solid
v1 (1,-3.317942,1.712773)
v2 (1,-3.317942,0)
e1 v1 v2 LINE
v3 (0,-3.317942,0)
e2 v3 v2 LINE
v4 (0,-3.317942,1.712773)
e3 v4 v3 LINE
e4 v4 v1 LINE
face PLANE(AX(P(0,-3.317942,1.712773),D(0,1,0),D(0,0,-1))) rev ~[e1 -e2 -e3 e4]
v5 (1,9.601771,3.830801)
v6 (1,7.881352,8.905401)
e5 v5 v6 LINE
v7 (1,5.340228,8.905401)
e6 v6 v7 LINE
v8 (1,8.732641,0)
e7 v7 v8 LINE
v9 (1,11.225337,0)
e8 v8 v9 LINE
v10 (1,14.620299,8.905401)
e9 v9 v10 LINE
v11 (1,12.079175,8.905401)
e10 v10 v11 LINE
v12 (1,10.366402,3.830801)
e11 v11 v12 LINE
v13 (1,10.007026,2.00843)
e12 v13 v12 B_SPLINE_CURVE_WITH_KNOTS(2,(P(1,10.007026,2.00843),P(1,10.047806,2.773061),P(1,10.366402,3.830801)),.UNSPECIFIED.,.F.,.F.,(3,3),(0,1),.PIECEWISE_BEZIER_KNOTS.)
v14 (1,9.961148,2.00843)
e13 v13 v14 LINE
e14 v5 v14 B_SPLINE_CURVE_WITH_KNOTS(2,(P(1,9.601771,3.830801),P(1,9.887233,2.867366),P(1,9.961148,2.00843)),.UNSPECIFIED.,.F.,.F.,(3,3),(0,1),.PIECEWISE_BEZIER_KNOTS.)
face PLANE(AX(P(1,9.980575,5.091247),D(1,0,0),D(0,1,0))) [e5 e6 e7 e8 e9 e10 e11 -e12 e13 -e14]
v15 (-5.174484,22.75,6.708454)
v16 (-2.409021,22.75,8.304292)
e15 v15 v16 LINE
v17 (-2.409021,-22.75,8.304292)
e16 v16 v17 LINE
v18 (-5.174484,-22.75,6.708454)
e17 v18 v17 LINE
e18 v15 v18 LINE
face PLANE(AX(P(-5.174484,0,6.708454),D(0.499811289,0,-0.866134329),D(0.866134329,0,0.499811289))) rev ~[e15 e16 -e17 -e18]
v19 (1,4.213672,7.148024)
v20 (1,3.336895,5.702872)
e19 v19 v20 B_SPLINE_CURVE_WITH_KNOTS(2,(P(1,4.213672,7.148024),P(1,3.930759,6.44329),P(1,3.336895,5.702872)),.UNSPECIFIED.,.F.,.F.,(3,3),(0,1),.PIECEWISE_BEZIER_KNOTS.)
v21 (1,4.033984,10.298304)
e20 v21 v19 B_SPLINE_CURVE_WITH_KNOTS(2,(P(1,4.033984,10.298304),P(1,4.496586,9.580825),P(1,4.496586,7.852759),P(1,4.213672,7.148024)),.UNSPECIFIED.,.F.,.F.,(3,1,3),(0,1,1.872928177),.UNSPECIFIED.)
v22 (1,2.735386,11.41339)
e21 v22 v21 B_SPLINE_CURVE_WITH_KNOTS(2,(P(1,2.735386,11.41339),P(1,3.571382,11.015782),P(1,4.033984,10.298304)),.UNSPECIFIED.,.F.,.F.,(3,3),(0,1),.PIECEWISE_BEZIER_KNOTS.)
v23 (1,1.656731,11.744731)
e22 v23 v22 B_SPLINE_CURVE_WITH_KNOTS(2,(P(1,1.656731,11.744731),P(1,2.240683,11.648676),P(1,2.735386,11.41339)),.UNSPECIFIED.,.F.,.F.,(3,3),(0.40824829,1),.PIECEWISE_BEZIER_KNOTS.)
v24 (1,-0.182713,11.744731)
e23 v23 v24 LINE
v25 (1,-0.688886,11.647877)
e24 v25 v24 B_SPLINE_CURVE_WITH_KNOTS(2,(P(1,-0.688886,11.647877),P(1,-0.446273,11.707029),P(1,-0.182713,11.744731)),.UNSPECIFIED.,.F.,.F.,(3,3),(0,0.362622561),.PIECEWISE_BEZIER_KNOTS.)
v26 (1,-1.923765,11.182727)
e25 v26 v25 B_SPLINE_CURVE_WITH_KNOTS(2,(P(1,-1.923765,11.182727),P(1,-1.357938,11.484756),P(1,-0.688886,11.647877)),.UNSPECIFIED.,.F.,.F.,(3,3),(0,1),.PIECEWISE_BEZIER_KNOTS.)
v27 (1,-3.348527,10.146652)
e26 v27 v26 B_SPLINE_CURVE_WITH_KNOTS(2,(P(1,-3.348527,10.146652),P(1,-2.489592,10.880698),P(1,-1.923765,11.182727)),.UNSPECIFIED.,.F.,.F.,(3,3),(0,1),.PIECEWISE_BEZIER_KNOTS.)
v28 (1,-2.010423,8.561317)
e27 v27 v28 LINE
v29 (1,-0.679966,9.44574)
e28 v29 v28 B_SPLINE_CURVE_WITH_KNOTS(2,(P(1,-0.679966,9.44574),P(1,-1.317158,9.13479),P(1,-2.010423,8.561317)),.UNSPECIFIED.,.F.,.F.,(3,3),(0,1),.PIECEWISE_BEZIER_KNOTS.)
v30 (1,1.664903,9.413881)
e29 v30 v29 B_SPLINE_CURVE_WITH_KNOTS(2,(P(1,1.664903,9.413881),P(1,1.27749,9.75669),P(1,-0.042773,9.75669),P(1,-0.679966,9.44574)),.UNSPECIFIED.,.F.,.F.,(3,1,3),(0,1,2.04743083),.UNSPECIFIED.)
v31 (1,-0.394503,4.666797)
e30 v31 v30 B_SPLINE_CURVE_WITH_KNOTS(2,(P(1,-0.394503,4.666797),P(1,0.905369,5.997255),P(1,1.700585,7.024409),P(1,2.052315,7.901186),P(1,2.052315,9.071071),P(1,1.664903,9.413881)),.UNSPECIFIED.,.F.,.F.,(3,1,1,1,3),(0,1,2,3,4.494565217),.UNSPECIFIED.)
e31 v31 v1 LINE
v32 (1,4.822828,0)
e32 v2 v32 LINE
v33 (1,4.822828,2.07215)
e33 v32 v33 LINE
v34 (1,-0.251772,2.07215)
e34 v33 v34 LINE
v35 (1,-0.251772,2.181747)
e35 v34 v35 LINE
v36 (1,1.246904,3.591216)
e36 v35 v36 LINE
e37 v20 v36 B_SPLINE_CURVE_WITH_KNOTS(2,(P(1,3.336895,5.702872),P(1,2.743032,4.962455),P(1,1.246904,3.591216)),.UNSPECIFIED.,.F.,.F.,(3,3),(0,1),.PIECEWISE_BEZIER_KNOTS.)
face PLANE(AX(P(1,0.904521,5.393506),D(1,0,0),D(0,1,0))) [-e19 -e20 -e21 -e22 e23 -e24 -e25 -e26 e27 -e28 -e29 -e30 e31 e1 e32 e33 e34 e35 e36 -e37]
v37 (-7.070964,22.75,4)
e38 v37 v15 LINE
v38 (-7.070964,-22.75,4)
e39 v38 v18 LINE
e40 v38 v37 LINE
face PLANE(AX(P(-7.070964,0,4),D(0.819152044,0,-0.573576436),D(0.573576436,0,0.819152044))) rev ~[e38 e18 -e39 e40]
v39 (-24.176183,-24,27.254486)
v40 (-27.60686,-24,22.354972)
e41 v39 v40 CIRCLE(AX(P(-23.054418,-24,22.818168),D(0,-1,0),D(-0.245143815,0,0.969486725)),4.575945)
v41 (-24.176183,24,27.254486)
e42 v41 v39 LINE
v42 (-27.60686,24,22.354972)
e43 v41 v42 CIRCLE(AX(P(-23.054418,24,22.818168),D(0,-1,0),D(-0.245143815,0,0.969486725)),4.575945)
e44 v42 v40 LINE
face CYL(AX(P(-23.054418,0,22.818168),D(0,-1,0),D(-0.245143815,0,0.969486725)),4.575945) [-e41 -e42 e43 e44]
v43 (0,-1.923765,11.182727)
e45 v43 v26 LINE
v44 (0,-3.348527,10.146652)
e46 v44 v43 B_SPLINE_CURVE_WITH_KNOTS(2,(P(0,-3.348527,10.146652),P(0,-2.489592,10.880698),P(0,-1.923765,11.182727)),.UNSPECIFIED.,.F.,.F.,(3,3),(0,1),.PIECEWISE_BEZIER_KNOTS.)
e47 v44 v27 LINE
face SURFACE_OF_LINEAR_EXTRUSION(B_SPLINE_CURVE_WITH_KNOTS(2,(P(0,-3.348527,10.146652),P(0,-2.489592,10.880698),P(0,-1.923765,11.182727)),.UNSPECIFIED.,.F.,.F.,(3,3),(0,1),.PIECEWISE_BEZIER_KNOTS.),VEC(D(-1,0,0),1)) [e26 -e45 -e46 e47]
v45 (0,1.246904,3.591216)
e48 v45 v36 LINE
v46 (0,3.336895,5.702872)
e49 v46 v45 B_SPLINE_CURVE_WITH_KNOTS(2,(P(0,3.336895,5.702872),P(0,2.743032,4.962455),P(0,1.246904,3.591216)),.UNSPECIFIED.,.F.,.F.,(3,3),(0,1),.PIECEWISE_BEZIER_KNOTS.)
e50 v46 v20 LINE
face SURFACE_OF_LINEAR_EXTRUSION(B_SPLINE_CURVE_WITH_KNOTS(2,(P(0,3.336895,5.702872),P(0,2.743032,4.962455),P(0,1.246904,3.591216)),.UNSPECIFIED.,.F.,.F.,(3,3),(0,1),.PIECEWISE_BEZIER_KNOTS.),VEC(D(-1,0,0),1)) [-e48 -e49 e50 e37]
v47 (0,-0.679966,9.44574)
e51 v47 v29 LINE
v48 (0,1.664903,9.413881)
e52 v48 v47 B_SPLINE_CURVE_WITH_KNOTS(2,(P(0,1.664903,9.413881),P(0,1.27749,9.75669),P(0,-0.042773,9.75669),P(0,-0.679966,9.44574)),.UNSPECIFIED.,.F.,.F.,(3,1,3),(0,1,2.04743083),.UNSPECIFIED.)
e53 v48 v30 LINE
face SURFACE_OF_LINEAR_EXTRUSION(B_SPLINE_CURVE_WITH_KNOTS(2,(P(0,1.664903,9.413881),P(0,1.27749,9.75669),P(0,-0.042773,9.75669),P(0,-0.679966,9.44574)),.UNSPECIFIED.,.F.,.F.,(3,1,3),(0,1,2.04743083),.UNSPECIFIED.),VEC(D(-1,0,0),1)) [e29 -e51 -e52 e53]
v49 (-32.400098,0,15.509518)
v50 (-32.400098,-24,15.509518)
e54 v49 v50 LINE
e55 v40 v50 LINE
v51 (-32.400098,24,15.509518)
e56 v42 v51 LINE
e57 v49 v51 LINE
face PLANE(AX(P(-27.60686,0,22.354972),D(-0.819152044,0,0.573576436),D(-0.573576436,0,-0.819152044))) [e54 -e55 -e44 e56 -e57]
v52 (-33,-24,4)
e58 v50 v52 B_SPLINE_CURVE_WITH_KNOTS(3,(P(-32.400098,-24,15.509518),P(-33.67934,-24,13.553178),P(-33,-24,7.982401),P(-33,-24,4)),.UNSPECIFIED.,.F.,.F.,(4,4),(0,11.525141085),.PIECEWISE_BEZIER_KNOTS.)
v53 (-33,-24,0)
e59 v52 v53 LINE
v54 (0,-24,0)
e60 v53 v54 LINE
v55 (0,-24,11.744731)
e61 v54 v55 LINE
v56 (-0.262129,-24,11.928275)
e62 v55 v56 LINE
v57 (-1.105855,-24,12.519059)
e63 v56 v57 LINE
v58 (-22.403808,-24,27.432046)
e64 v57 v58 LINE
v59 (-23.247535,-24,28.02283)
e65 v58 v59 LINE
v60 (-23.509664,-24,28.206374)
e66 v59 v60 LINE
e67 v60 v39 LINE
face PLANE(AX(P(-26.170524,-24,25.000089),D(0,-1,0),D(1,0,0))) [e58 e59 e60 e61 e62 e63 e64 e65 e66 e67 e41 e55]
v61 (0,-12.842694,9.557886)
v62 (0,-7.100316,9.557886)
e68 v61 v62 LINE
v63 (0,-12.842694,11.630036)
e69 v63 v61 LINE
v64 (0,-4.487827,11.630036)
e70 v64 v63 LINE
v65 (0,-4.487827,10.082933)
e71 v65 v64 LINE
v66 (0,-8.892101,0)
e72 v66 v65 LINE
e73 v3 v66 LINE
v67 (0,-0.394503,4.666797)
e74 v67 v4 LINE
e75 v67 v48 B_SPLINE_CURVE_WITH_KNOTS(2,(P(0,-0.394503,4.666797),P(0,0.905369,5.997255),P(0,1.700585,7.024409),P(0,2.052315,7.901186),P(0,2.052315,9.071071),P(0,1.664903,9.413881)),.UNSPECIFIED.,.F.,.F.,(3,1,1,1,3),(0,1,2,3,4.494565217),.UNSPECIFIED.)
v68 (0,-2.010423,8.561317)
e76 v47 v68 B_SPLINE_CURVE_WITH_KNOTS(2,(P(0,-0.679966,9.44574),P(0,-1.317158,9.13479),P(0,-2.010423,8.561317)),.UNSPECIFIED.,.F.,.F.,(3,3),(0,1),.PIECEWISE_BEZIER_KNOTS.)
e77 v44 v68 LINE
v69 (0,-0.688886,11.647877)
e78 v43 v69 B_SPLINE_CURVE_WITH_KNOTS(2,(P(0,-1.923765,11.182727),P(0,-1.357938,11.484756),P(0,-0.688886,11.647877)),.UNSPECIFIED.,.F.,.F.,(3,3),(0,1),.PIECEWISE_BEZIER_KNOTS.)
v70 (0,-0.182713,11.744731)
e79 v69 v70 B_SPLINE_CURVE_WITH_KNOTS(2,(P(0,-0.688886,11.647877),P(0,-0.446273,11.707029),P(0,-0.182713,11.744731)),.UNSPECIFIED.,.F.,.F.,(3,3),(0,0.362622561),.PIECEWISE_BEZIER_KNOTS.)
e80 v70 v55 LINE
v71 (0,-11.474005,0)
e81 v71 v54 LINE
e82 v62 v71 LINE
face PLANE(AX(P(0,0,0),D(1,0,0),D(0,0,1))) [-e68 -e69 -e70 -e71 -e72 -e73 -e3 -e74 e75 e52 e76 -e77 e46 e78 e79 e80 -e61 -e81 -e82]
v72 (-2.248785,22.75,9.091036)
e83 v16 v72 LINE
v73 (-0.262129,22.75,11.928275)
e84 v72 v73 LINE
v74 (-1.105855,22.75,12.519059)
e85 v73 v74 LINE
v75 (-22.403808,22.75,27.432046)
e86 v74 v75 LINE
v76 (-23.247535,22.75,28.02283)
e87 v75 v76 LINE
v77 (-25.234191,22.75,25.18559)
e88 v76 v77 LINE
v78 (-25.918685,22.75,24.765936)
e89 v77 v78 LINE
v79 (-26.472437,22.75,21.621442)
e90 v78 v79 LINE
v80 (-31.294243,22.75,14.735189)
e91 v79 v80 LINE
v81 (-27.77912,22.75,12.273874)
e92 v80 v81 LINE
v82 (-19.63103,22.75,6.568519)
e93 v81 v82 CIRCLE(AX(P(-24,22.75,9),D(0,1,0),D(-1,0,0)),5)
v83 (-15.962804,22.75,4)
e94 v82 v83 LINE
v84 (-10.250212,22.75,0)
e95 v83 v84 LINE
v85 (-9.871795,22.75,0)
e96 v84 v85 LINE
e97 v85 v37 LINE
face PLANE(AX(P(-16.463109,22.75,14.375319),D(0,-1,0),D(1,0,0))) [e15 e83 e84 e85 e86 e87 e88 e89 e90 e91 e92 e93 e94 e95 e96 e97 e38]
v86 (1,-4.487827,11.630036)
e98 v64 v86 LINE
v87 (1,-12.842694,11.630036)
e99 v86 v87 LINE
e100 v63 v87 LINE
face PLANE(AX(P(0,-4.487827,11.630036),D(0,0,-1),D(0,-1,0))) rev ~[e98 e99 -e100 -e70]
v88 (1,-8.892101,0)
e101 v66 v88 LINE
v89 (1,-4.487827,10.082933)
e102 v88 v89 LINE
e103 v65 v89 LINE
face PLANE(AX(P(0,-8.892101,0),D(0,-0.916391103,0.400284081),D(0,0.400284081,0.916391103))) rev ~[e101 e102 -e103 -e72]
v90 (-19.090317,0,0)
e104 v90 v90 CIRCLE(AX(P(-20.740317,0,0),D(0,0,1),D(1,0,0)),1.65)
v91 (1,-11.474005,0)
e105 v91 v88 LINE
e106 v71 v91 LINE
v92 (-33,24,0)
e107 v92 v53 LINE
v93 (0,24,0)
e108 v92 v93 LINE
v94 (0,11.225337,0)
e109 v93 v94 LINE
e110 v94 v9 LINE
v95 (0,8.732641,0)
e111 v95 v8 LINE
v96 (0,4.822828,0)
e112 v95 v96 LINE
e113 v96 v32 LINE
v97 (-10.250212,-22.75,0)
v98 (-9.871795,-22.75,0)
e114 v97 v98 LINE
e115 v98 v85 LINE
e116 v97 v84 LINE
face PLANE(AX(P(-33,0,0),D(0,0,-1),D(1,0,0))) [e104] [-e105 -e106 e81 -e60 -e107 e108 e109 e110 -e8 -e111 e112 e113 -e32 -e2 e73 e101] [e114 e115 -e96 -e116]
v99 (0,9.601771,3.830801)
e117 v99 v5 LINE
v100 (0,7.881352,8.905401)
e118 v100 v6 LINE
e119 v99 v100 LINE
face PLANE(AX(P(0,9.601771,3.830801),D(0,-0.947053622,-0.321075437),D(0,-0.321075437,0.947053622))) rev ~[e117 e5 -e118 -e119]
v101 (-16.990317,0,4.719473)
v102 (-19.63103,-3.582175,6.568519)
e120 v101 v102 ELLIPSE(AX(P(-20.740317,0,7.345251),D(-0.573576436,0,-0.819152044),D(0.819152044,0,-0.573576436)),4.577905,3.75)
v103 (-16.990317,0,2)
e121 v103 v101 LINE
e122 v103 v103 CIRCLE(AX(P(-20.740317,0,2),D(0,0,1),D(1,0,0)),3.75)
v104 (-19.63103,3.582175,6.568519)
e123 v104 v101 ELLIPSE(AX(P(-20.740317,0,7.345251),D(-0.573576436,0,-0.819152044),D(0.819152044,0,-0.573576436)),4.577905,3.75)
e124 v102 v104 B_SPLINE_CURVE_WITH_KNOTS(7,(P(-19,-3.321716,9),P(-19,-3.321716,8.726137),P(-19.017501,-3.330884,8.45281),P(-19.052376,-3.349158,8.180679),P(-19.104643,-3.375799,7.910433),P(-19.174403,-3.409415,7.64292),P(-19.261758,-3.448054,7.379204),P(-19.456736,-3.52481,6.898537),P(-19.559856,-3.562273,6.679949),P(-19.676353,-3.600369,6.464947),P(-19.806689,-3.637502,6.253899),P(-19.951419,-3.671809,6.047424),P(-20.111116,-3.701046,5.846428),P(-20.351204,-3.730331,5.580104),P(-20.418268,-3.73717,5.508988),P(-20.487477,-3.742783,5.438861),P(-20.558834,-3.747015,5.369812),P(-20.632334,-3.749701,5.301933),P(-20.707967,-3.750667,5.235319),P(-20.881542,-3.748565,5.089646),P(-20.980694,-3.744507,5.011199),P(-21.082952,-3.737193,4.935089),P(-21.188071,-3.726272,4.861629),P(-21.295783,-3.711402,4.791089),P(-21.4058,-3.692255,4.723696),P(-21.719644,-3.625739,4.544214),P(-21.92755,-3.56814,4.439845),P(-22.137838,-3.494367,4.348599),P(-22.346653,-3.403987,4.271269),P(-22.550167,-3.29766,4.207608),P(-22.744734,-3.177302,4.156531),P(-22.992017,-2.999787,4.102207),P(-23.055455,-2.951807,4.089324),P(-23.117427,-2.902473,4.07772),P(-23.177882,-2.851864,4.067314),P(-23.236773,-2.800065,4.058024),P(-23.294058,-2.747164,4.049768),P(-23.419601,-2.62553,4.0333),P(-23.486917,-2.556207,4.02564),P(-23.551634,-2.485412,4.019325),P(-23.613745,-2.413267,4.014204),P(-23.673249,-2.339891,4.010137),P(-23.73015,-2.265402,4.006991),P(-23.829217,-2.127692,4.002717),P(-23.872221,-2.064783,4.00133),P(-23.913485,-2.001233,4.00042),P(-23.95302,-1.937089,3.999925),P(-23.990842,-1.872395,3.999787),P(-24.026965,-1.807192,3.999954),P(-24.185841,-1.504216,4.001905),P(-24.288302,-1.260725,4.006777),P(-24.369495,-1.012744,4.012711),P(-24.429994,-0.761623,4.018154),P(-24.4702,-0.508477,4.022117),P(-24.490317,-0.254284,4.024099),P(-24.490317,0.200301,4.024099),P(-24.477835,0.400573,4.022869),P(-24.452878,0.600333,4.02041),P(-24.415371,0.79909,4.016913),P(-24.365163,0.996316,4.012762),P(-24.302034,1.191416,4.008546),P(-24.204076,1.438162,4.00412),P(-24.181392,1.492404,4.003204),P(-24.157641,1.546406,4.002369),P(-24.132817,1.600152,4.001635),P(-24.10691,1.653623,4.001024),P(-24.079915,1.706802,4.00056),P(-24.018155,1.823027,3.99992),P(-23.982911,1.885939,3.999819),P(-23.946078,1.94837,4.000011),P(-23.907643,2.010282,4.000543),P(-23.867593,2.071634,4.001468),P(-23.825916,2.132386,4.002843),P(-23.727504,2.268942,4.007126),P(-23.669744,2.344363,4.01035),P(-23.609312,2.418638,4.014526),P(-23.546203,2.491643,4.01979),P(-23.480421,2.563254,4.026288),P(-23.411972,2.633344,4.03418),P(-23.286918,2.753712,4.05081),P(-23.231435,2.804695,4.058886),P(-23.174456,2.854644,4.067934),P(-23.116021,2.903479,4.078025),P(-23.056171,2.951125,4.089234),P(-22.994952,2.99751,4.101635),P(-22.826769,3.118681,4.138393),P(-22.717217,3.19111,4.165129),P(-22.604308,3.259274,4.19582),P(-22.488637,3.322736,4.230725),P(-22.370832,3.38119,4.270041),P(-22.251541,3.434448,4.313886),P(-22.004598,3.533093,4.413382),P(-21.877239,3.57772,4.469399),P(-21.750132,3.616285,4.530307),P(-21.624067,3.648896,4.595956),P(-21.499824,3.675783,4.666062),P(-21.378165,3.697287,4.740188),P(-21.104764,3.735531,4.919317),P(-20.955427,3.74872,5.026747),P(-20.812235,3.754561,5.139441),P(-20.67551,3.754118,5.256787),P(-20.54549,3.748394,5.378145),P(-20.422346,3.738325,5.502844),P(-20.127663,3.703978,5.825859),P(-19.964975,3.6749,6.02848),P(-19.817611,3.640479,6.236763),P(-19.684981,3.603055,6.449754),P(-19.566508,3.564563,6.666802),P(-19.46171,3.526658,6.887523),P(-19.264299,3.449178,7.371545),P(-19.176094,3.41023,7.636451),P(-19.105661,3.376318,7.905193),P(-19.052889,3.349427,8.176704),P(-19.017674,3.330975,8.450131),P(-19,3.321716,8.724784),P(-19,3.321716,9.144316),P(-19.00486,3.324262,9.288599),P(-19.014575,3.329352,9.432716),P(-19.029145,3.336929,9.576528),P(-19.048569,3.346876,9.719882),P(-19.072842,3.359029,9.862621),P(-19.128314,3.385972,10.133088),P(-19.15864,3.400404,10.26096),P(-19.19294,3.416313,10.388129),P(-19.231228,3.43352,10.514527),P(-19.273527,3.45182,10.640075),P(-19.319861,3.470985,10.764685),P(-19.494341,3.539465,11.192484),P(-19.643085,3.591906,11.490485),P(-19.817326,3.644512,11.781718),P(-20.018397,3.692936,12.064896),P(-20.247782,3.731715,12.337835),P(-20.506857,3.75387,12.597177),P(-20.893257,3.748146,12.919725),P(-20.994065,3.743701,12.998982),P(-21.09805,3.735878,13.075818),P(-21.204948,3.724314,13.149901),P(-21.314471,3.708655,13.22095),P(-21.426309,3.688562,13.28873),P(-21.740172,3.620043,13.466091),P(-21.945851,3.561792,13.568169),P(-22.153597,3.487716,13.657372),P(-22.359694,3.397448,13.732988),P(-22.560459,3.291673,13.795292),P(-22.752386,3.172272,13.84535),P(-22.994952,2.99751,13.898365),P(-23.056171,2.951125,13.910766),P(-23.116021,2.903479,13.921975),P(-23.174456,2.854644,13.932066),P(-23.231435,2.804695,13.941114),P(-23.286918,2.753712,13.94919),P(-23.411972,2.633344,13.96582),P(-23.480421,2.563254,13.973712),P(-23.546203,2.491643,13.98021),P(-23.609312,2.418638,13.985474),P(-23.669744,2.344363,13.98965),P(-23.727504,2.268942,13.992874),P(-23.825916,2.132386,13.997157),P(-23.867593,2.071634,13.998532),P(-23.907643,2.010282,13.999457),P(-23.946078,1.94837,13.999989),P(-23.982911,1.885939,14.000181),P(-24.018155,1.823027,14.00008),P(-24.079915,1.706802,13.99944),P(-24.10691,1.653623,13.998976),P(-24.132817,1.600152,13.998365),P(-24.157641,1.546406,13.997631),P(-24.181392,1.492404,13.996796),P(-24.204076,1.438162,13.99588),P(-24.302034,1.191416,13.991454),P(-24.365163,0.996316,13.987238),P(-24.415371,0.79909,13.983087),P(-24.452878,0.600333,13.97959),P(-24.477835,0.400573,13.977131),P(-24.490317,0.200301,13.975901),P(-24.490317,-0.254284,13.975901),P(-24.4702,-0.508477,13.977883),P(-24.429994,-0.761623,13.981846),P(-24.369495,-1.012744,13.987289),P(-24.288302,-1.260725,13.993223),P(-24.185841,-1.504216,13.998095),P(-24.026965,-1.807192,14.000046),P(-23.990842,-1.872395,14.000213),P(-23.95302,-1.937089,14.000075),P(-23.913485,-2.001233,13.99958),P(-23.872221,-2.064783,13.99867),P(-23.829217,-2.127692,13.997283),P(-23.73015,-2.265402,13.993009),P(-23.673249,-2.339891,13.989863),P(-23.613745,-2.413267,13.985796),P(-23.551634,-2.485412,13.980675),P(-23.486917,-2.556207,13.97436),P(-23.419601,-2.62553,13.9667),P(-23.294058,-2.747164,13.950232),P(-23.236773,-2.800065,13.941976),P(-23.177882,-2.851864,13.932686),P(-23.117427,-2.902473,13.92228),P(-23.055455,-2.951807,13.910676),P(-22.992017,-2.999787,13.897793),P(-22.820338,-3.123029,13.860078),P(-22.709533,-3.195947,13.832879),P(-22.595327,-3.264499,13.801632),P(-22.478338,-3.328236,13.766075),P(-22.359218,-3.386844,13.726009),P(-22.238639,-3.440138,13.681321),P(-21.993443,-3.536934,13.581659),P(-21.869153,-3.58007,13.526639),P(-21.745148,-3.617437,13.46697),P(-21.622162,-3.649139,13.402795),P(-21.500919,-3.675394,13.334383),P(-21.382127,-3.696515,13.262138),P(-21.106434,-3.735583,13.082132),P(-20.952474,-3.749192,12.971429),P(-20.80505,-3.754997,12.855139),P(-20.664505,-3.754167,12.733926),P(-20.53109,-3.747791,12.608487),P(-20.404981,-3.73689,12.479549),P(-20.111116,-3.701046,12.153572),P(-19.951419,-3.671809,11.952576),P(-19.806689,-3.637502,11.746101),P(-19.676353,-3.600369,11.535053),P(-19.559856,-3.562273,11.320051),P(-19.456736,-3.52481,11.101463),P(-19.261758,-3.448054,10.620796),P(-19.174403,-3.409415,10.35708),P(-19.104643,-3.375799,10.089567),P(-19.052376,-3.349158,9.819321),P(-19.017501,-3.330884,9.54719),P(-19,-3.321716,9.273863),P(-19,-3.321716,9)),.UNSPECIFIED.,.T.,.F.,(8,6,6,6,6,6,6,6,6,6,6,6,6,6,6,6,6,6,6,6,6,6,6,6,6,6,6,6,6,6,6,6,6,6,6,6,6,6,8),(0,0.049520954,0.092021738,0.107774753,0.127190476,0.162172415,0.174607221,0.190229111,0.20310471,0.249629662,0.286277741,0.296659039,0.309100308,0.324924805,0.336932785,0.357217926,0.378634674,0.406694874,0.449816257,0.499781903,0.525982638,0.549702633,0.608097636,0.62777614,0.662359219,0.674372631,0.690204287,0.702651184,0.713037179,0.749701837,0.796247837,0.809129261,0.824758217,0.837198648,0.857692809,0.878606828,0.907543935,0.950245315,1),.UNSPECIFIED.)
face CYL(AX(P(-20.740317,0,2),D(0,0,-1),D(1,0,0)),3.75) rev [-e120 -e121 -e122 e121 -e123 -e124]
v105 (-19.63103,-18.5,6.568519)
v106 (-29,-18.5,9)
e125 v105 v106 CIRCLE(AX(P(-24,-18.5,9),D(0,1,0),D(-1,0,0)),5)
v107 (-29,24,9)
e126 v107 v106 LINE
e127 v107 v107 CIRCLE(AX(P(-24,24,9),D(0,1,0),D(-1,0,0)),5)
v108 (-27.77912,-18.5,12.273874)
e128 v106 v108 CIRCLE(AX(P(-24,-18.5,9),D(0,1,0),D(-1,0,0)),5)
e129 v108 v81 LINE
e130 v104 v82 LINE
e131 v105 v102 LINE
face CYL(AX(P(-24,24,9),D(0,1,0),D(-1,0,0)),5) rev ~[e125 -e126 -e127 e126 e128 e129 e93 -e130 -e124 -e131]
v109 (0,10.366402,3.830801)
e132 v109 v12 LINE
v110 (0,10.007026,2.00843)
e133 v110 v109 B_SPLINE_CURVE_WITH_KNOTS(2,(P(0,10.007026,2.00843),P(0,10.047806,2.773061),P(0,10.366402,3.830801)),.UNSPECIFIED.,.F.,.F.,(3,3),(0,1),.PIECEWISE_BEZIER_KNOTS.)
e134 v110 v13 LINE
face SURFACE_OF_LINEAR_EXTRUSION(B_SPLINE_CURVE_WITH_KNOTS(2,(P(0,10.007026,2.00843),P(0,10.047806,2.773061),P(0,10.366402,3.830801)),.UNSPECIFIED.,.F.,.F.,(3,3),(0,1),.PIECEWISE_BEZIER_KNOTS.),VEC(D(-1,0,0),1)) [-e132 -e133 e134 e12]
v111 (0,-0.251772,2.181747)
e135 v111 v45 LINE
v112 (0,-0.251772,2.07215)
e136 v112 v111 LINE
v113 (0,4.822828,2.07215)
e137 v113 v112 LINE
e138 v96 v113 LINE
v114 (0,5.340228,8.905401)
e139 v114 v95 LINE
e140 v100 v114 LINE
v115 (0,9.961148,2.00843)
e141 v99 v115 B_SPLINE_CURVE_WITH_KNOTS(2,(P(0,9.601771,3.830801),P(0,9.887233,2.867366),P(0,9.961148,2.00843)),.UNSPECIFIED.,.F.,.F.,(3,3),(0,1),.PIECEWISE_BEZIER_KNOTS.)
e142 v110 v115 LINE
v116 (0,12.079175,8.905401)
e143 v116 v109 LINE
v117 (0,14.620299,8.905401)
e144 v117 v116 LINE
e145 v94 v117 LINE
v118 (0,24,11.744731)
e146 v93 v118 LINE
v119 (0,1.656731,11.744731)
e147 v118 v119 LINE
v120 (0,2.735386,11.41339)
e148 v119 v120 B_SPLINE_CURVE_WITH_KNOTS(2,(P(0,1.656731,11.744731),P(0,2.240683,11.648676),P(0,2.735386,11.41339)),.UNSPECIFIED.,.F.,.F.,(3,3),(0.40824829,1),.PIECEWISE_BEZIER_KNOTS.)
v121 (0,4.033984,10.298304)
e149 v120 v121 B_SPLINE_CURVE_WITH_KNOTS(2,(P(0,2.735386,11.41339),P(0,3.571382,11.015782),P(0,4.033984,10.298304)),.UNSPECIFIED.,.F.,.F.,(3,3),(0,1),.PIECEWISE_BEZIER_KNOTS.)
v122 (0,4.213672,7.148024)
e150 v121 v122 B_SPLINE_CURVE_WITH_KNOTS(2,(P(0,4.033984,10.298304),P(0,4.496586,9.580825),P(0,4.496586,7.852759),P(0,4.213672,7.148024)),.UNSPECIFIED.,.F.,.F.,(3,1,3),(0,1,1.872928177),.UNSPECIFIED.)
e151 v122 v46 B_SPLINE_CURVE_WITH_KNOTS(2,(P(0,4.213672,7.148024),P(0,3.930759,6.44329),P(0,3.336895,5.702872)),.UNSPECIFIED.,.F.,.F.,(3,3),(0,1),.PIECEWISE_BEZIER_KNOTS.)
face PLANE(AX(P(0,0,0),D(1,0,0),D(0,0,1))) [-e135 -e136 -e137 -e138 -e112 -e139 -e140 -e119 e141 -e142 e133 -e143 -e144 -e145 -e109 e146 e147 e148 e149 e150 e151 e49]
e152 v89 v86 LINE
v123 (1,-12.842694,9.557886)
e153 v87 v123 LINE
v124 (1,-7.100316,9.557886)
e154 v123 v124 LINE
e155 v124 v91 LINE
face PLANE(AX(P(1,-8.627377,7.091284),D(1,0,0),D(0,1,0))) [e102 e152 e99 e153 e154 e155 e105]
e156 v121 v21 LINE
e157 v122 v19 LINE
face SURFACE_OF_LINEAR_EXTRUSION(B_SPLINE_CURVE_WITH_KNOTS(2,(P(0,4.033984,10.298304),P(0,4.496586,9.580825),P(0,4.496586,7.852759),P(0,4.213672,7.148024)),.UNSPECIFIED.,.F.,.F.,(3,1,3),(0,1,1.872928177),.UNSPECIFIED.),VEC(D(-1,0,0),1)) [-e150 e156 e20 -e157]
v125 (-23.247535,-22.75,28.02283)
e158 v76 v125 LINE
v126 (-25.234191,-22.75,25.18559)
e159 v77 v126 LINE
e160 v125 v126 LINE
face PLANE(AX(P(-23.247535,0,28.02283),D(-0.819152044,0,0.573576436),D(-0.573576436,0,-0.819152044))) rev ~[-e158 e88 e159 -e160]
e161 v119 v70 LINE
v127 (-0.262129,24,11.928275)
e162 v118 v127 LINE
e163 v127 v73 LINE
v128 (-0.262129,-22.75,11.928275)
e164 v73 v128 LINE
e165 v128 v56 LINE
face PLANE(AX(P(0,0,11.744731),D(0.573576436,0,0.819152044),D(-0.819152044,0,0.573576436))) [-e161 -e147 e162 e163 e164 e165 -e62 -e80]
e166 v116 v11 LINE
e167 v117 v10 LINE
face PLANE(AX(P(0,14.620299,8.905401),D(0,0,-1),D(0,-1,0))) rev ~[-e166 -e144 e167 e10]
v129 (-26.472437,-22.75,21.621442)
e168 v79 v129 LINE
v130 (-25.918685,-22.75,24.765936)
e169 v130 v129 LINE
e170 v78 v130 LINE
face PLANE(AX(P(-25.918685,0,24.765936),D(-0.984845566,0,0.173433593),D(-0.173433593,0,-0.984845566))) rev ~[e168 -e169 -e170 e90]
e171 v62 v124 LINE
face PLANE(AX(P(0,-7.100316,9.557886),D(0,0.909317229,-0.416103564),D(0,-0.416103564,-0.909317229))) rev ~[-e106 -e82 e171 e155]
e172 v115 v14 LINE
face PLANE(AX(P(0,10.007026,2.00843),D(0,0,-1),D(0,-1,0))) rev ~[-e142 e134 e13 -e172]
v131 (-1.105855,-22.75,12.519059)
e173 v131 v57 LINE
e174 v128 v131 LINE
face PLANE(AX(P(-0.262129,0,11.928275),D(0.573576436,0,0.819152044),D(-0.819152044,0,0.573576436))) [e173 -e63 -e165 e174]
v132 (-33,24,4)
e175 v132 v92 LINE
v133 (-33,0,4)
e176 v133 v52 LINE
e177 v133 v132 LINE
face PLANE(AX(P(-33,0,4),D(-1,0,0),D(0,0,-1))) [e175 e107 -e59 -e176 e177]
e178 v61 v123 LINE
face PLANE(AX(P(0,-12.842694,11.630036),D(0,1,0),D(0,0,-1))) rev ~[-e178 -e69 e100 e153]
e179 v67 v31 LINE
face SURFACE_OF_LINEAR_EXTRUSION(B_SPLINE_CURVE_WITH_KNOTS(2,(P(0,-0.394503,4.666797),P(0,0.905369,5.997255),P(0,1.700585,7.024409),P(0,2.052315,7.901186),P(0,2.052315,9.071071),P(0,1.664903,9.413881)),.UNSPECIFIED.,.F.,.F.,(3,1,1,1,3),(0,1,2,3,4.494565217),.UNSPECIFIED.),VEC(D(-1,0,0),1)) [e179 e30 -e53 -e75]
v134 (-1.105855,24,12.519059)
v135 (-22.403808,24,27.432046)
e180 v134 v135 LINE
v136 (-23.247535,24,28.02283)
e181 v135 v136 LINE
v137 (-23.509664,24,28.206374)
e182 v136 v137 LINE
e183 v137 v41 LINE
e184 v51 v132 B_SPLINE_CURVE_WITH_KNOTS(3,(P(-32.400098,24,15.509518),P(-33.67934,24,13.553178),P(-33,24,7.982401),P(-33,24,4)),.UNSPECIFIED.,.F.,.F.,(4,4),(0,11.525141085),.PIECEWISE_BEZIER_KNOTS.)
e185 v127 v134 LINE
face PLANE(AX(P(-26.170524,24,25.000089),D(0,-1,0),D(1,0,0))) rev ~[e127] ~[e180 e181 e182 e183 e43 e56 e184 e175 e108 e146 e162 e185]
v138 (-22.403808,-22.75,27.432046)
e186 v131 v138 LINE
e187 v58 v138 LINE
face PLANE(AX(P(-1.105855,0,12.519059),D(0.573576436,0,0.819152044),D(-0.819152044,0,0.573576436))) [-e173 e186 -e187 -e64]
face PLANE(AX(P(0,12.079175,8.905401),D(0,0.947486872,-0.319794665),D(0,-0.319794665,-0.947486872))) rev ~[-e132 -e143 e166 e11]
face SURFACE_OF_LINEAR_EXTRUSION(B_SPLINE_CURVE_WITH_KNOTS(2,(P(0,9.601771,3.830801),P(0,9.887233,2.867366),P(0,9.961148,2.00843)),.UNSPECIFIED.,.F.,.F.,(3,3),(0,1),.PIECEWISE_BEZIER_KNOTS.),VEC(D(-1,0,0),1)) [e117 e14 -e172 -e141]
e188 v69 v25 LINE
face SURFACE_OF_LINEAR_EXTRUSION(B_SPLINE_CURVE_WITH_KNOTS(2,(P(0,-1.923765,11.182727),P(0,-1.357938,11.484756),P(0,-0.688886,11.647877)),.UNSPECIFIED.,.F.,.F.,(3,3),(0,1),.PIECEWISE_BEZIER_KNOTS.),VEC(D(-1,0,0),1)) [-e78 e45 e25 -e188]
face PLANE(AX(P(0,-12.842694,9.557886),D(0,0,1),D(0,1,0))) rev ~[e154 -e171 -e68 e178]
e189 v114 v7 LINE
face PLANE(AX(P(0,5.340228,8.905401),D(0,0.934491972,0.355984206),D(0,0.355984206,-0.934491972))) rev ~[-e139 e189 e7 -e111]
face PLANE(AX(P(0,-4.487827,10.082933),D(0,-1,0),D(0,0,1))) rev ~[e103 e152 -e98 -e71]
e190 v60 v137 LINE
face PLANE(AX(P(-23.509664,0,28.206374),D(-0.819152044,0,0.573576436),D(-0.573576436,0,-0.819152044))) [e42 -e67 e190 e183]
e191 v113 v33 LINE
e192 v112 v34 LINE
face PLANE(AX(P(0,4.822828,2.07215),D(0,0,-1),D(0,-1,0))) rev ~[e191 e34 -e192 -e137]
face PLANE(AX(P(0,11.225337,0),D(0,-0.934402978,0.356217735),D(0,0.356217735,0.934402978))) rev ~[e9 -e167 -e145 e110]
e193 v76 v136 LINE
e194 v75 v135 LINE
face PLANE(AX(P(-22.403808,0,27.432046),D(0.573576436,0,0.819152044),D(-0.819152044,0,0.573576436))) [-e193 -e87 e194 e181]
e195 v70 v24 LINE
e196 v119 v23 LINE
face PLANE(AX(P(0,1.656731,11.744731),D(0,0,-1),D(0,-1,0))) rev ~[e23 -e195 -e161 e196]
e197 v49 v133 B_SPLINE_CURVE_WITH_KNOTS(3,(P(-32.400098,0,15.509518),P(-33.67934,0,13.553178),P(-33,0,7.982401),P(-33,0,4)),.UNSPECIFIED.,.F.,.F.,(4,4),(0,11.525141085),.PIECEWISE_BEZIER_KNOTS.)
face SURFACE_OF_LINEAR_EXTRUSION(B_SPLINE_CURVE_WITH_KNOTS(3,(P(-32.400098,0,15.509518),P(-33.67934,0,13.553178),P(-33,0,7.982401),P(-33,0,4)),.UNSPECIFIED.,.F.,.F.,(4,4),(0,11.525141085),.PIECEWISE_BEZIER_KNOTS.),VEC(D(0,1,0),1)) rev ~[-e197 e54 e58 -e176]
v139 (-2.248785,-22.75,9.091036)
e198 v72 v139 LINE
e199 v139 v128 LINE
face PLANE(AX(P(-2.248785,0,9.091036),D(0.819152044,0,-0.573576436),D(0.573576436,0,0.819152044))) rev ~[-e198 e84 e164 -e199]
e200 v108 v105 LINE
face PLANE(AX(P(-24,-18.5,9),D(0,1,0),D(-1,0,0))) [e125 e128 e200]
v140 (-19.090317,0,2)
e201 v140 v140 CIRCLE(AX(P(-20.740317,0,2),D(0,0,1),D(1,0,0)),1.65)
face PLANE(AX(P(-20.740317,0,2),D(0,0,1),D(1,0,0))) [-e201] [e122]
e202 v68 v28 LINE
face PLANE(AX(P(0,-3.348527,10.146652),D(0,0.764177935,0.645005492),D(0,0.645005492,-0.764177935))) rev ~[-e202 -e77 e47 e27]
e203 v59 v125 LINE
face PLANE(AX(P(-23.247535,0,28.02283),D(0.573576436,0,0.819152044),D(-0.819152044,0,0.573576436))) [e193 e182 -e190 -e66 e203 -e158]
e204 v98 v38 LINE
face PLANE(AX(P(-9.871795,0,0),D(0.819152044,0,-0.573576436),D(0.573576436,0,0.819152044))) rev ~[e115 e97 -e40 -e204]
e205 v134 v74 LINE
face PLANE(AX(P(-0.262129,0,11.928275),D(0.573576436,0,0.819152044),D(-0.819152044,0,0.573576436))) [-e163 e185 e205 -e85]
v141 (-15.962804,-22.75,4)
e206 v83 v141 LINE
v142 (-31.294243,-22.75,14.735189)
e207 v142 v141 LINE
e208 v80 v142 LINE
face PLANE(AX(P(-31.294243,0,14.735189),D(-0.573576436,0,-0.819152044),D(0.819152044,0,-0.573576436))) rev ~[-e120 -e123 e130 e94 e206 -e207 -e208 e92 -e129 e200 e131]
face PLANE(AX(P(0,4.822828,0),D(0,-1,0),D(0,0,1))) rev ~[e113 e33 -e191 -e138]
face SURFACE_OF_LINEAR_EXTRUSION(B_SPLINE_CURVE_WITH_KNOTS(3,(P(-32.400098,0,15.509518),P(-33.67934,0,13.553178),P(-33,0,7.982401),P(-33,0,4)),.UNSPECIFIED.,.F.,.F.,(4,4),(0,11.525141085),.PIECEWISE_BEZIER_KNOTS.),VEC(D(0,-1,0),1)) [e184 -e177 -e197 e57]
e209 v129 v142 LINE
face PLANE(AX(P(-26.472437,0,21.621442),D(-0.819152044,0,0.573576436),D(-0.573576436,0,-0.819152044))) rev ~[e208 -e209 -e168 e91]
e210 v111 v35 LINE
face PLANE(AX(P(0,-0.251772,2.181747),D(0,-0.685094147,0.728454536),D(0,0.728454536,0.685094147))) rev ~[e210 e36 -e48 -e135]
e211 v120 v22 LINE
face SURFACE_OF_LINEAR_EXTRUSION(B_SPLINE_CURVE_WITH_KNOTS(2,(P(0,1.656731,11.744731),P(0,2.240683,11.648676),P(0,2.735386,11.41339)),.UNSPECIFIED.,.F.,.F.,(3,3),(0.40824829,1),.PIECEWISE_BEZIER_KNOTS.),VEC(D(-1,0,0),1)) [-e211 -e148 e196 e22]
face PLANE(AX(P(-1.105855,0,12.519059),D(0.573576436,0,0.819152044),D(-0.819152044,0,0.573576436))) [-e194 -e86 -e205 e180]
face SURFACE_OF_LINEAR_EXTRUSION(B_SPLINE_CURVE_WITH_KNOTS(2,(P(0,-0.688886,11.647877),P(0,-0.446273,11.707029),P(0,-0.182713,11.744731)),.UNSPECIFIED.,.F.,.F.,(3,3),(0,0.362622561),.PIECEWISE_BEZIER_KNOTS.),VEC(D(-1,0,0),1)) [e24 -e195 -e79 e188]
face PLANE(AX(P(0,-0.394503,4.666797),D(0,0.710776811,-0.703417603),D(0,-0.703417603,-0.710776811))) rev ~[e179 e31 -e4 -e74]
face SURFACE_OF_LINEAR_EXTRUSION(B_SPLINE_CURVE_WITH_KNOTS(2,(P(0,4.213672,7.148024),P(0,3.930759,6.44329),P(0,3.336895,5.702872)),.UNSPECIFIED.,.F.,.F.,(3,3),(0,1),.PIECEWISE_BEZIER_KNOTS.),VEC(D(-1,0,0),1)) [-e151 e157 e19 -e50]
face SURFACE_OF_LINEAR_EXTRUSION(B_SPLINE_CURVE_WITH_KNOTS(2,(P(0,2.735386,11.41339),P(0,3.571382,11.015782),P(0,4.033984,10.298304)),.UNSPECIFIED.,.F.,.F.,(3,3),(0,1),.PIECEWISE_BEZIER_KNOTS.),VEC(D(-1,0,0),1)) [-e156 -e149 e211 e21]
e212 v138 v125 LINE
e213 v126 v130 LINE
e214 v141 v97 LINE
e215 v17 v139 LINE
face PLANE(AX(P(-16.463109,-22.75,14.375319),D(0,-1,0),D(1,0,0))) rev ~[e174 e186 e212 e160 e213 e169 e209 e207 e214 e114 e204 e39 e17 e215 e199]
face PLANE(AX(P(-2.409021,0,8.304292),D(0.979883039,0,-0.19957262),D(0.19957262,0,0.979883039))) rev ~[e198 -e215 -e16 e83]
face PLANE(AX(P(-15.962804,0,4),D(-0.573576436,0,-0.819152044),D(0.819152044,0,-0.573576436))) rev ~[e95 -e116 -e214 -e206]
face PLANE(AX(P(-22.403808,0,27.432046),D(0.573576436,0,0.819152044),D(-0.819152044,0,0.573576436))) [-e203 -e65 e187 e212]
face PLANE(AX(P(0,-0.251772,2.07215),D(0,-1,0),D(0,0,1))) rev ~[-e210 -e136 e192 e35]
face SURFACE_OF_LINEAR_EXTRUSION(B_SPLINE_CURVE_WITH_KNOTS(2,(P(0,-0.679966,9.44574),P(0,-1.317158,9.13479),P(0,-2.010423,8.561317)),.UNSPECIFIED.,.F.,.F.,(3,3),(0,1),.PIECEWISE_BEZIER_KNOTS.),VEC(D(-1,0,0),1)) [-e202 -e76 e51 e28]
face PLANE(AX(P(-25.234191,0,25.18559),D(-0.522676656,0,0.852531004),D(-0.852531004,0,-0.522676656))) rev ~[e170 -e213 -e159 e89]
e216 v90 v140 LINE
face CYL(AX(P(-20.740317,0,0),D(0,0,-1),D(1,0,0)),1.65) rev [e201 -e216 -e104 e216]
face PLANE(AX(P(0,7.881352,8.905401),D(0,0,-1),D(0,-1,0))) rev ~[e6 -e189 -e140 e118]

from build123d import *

# Parameters (mm, degrees)
F1_DEPTH = 24
F2_DEPTH = 22.75
F3_R     = 5
F4_DEPTH = 42.5
F5_R     = 1.65
F6_DEPTH = 25
F7_START = 2
F5_R_2   = 3.75
F7_DEPTH = 23
F9_DEPTH = 1


with BuildPart() as f1:
    # F0 (on Front) → F1 (new body, symmetric)
    with BuildSketch(Plane.XZ):
        with BuildLine():
            ThreePointArc((-24.1761827572, 27.2544863717), (-26.8028128996, 25.4428226271), (-27.6068595339, 22.3549721713))
            Line((-27.6068595339, 22.3549721713), (-25.9186847038, 24.76593569))
            Line((-25.9186847038, 24.76593569), (-24.1761827572, 27.2544863717))
        make_face()
        with BuildLine():
            Line((-33, 4), (-15.9628038305, 4))
            Line((-15.9628038305, 4), (-31.2942431747, 14.7351894004))
            Line((-31.2942431747, 14.7351894004), (-32.4000984345, 15.5095175895))
            add(Edge.make_bspline(
                [(-32.4000984345, 15.5095175895), (-33.6793400347, 13.5531779379), (-33, 7.9824011773), (-33, 4)],
                knots=[0, 0, 0, 0, 11.5251410851, 11.5251410851, 11.5251410851, 11.5251410851], degree=3))
        make_face()
        Polygon((-33, 0), (-10.2502118035, 0), (-15.9628038305, 4), (-33, 4), align=None)
        Polygon((-9.8717945621, 0), (0, 0), (0, 4), (-7.0709644092, 4), align=None)
        Polygon((-1.1058552598, 12.5190587418), (-1.7330256341, 11.6233666218), (-2.2487850863, 9.0910355887), (-0.2621286542, 11.9282750123), align=None)
        Polygon((-7.0709644092, 4), (0, 4), (0, 7.8723652764), (0, 11.7447305527), (-0.2621286542, 11.9282750123), (-2.2487850863, 9.0910355887), (-2.4090210327, 8.3042919667), (-5.1744842522, 6.7084543561), align=None)
        Polygon((-15.9628038305, 4), (-7.0709644092, 4), (-5.1744842522, 6.7084543561), (-1.7330256341, 11.6233666218), (-1.1058552598, 12.5190587418), (-22.4038084113, 27.4320460869), (-23.0309787856, 26.5363539669), (-26.4724374037, 21.6214417012), (-31.2942431747, 14.7351894004), align=None)
        Polygon((-1.7330256341, 11.6233666218), (-5.1744842522, 6.7084543561), (-2.4090210327, 8.3042919667), (-2.2487850863, 9.0910355887), align=None)
        Polygon((-10.2502118035, 0), (-9.8717945621, 0), (-7.0709644092, 4), (-15.9628038305, 4), align=None)
        Polygon((-25.9186847038, 24.76593569), (-26.4724374037, 21.6214417012), (-23.0309787856, 26.5363539669), (-25.2341914491, 25.1855903927), align=None)
        Polygon((-32.4000984345, 15.5095175895), (-31.2942431747, 14.7351894004), (-26.4724374037, 21.6214417012), (-25.9186847038, 24.76593569), (-27.6068595339, 22.3549721713), align=None)
        Polygon((-24.1761827572, 27.2544863717), (-25.9186847038, 24.76593569), (-25.2341914491, 25.1855903927), (-23.2475350169, 28.0228298164), (-23.5096636711, 28.206374276), align=None)
        Polygon((-25.2341914491, 25.1855903927), (-23.0309787856, 26.5363539669), (-22.4038084113, 27.4320460869), (-23.2475350169, 28.0228298164), align=None)
    extrude(amount=F1_DEPTH, both=True)

    # F0 (on Front) → F2 (cut, symmetric)
    with BuildSketch(Plane.XZ):
        Polygon((-15.9628038305, 4), (-7.0709644092, 4), (-5.1744842522, 6.7084543561), (-1.7330256341, 11.6233666218), (-1.1058552598, 12.5190587418), (-22.4038084113, 27.4320460869), (-23.0309787856, 26.5363539669), (-26.4724374037, 21.6214417012), (-31.2942431747, 14.7351894004), align=None)
        Polygon((-25.9186847038, 24.76593569), (-26.4724374037, 21.6214417012), (-23.0309787856, 26.5363539669), (-25.2341914491, 25.1855903927), align=None)
        Polygon((-1.7330256341, 11.6233666218), (-5.1744842522, 6.7084543561), (-2.4090210327, 8.3042919667), (-2.2487850863, 9.0910355887), align=None)
        Polygon((-10.2502118035, 0), (-9.8717945621, 0), (-7.0709644092, 4), (-15.9628038305, 4), align=None)
        Polygon((-25.2341914491, 25.1855903927), (-23.0309787856, 26.5363539669), (-22.4038084113, 27.4320460869), (-23.2475350169, 28.0228298164), align=None)
        Polygon((-1.1058552598, 12.5190587418), (-1.7330256341, 11.6233666218), (-2.2487850863, 9.0910355887), (-0.2621286542, 11.9282750123), align=None)
    extrude(amount=F2_DEPTH, both=True, mode=Mode.SUBTRACT)

    # F3 (on face) → F4 (cut)
    with BuildSketch(Plane(origin=(0, 24, 0), x_dir=(-1, 0, 0), z_dir=(0, 1, 0))):
        with Locations((24, 9)):
            Circle(F3_R)
    extrude(amount=-F4_DEPTH, mode=Mode.SUBTRACT)

    # F5 (on Top) → F6 (cut)
    with BuildSketch(Plane.XY):
        with Locations((-20.7403171808, 0)):
            Circle(F5_R)
    extrude(amount=F6_DEPTH, mode=Mode.SUBTRACT)

    # F5 (on Top) → F7 (cut)
    with BuildSketch(Plane.XY.offset(F7_START)):
        with Locations((-20.7403171808, 0)):
            Circle(F5_R_2)
        with Locations((-20.7403171808, 0)):
            Circle(F5_R, mode=Mode.SUBTRACT)
    extrude(amount=F7_DEPTH, mode=Mode.SUBTRACT)

    # F8 (on face) → F9 (join)
    with BuildSketch(Plane.YZ):
        Polygon((-7.1003163303, 9.557886192), (-11.4740050518, 0), (-8.8921013951, 0), (-4.4878274378, 10.0829327401), (-4.4878274378, 11.6300359184), (-12.8426943545, 11.6300359184), (-12.8426943545, 9.557886192), align=None)
        with BuildLine():
            Line((-3.3179421679, 1.7127732056), (-3.3179421679, 0))
            Line((-3.3179421679, 0), (4.822828098, 0))
            Line((4.822828098, 0), (4.822828098, 2.0721497264))
            Line((4.822828098, 2.0721497264), (-0.2517722775, 2.0721497264))
            Line((-0.2517722775, 2.0721497264), (-0.2517722775, 2.1817468214))
            Line((-0.2517722775, 2.1817468214), (1.2469042774, 3.5912164385))
            add(Edge.make_bspline(
                [(3.3368953913, 5.7028720946), (2.7430320626, 4.9624545109), (1.2469042774, 3.5912164385)],
                knots=[0, 0, 0, 1, 1, 1], degree=2))
            add(Edge.make_bspline(
                [(4.2136721514, 7.1480244868), (3.9307587201, 6.4432896782), (3.3368953913, 5.7028720946)],
                knots=[0, 0, 0, 1, 1, 1], degree=2))
            add(Edge.make_bspline(
                [(4.4965855826, 8.6581705051), (4.4965855826, 7.8527592953), (4.2136721514, 7.1480244868)],
                knots=[0, 0, 0, 1, 1, 1], degree=2))
            add(Edge.make_bspline(
                [(4.0339838909, 10.2983037757), (4.4965855826, 9.5808251188), (4.4965855826, 8.6581705051)],
                knots=[0, 0, 0, 1, 1, 1], degree=2))
            add(Edge.make_bspline(
                [(2.7353857537, 11.4133904981), (3.5713821992, 11.0157824325), (4.0339838909, 10.2983037757)],
                knots=[0, 0, 0, 1, 1, 1], degree=2))
            add(Edge.make_bspline(
                [(1.6567308132, 11.7447305527), (2.2406834278, 11.6486757506), (2.7353857537, 11.4133904981)],
                knots=[0.4082482905, 0.4082482905, 0.4082482905, 1, 1, 1], degree=2))
            Line((1.6567308132, 11.7447305527), (-0.1827126259, 11.7447305527))
            add(Edge.make_bspline(
                [(-0.6888862727, 11.647877306), (-0.4462729111, 11.7070287542), (-0.1827126259, 11.7447305527)],
                knots=[0, 0, 0, 0.3626225608, 0.3626225608, 0.3626225608], degree=2))
            add(Edge.make_bspline(
                [(-1.9237651687, 11.1827268446), (-1.3579383062, 11.4847560483), (-0.6888862727, 11.647877306)],
                knots=[0, 0, 0, 1, 1, 1], degree=2))
            add(Edge.make_bspline(
                [(-3.3485274038, 10.1466519814), (-2.4895920313, 10.880697641), (-1.9237651687, 11.1827268446)],
                knots=[0, 0, 0, 1, 1, 1], degree=2))
            Line((-3.3485274038, 10.1466519814), (-2.0104233369, 8.5613172584))
            add(Edge.make_bspline(
                [(-0.6799655789, 9.4457403273), (-1.3171579917, 9.1347904299), (-2.0104233369, 8.5613172584)],
                knots=[0, 0, 0, 1, 1, 1], degree=2))
            add(Edge.make_bspline(
                [(0.6326507914, 9.7566902248), (-0.0427731661, 9.7566902248), (-0.6799655789, 9.4457403273)],
                knots=[0, 0, 0, 1, 1, 1], degree=2))
            add(Edge.make_bspline(
                [(1.6649025002, 9.4138807067), (1.2774895132, 9.7566902248), (0.6326507914, 9.7566902248)],
                knots=[0, 0, 0, 1, 1, 1], degree=2))
            add(Edge.make_bspline(
                [(2.0523154871, 8.3701595345), (2.0523154871, 9.0710711886), (1.6649025002, 9.4138807067)],
                knots=[0, 0, 0, 1, 1, 1], degree=2))
            add(Edge.make_bspline(
                [(1.8764503812, 7.4627975387), (2.0523154871, 7.9011859187), (2.0523154871, 8.3701595345)],
                knots=[0, 0, 0, 1, 1, 1], degree=2))
            add(Edge.make_bspline(
                [(1.3029772097, 6.510832074), (1.7005852753, 7.0244091587), (1.8764503812, 7.4627975387)],
                knots=[0, 0, 0, 1, 1, 1], degree=2))
            add(Edge.make_bspline(
                [(-0.394503378, 4.6667972313), (0.9053691441, 5.9972549893), (1.3029772097, 6.510832074)],
                knots=[0, 0, 0, 1, 1, 1], degree=2))
            Line((-0.394503378, 4.6667972313), (-3.3179421679, 1.7127732056))
        make_face()
        with BuildLine():
            Line((5.3402283372, 8.9054011613), (8.7326407429, 0))
            Line((8.7326407429, 0), (11.2253374618, 0))
            Line((11.2253374618, 0), (14.6202986372, 8.9054011613))
            Line((14.6202986372, 8.9054011613), (12.0791752949, 8.9054011613))
            Line((12.0791752949, 8.9054011613), (10.3664020893, 3.8308007857))
            add(Edge.make_bspline(
                [(10.0070255685, 2.0084304851), (10.0478058829, 2.7730613805), (10.3664020893, 3.8308007857)],
                knots=[0, 0, 0, 1, 1, 1], degree=2))
            Line((10.0070255685, 2.0084304851), (9.9611477148, 2.0084304851))
            add(Edge.make_bspline(
                [(9.601771194, 3.8308007857), (9.8872333949, 2.8673658576), (9.9611477148, 2.0084304851)],
                knots=[0, 0, 0, 1, 1, 1], degree=2))
            Line((9.601771194, 3.8308007857), (7.8813516794, 8.9054011613))
            Line((7.8813516794, 8.9054011613), (5.3402283372, 8.9054011613))
        make_face()
    extrude(amount=F9_DEPTH)


solid = f1.part
